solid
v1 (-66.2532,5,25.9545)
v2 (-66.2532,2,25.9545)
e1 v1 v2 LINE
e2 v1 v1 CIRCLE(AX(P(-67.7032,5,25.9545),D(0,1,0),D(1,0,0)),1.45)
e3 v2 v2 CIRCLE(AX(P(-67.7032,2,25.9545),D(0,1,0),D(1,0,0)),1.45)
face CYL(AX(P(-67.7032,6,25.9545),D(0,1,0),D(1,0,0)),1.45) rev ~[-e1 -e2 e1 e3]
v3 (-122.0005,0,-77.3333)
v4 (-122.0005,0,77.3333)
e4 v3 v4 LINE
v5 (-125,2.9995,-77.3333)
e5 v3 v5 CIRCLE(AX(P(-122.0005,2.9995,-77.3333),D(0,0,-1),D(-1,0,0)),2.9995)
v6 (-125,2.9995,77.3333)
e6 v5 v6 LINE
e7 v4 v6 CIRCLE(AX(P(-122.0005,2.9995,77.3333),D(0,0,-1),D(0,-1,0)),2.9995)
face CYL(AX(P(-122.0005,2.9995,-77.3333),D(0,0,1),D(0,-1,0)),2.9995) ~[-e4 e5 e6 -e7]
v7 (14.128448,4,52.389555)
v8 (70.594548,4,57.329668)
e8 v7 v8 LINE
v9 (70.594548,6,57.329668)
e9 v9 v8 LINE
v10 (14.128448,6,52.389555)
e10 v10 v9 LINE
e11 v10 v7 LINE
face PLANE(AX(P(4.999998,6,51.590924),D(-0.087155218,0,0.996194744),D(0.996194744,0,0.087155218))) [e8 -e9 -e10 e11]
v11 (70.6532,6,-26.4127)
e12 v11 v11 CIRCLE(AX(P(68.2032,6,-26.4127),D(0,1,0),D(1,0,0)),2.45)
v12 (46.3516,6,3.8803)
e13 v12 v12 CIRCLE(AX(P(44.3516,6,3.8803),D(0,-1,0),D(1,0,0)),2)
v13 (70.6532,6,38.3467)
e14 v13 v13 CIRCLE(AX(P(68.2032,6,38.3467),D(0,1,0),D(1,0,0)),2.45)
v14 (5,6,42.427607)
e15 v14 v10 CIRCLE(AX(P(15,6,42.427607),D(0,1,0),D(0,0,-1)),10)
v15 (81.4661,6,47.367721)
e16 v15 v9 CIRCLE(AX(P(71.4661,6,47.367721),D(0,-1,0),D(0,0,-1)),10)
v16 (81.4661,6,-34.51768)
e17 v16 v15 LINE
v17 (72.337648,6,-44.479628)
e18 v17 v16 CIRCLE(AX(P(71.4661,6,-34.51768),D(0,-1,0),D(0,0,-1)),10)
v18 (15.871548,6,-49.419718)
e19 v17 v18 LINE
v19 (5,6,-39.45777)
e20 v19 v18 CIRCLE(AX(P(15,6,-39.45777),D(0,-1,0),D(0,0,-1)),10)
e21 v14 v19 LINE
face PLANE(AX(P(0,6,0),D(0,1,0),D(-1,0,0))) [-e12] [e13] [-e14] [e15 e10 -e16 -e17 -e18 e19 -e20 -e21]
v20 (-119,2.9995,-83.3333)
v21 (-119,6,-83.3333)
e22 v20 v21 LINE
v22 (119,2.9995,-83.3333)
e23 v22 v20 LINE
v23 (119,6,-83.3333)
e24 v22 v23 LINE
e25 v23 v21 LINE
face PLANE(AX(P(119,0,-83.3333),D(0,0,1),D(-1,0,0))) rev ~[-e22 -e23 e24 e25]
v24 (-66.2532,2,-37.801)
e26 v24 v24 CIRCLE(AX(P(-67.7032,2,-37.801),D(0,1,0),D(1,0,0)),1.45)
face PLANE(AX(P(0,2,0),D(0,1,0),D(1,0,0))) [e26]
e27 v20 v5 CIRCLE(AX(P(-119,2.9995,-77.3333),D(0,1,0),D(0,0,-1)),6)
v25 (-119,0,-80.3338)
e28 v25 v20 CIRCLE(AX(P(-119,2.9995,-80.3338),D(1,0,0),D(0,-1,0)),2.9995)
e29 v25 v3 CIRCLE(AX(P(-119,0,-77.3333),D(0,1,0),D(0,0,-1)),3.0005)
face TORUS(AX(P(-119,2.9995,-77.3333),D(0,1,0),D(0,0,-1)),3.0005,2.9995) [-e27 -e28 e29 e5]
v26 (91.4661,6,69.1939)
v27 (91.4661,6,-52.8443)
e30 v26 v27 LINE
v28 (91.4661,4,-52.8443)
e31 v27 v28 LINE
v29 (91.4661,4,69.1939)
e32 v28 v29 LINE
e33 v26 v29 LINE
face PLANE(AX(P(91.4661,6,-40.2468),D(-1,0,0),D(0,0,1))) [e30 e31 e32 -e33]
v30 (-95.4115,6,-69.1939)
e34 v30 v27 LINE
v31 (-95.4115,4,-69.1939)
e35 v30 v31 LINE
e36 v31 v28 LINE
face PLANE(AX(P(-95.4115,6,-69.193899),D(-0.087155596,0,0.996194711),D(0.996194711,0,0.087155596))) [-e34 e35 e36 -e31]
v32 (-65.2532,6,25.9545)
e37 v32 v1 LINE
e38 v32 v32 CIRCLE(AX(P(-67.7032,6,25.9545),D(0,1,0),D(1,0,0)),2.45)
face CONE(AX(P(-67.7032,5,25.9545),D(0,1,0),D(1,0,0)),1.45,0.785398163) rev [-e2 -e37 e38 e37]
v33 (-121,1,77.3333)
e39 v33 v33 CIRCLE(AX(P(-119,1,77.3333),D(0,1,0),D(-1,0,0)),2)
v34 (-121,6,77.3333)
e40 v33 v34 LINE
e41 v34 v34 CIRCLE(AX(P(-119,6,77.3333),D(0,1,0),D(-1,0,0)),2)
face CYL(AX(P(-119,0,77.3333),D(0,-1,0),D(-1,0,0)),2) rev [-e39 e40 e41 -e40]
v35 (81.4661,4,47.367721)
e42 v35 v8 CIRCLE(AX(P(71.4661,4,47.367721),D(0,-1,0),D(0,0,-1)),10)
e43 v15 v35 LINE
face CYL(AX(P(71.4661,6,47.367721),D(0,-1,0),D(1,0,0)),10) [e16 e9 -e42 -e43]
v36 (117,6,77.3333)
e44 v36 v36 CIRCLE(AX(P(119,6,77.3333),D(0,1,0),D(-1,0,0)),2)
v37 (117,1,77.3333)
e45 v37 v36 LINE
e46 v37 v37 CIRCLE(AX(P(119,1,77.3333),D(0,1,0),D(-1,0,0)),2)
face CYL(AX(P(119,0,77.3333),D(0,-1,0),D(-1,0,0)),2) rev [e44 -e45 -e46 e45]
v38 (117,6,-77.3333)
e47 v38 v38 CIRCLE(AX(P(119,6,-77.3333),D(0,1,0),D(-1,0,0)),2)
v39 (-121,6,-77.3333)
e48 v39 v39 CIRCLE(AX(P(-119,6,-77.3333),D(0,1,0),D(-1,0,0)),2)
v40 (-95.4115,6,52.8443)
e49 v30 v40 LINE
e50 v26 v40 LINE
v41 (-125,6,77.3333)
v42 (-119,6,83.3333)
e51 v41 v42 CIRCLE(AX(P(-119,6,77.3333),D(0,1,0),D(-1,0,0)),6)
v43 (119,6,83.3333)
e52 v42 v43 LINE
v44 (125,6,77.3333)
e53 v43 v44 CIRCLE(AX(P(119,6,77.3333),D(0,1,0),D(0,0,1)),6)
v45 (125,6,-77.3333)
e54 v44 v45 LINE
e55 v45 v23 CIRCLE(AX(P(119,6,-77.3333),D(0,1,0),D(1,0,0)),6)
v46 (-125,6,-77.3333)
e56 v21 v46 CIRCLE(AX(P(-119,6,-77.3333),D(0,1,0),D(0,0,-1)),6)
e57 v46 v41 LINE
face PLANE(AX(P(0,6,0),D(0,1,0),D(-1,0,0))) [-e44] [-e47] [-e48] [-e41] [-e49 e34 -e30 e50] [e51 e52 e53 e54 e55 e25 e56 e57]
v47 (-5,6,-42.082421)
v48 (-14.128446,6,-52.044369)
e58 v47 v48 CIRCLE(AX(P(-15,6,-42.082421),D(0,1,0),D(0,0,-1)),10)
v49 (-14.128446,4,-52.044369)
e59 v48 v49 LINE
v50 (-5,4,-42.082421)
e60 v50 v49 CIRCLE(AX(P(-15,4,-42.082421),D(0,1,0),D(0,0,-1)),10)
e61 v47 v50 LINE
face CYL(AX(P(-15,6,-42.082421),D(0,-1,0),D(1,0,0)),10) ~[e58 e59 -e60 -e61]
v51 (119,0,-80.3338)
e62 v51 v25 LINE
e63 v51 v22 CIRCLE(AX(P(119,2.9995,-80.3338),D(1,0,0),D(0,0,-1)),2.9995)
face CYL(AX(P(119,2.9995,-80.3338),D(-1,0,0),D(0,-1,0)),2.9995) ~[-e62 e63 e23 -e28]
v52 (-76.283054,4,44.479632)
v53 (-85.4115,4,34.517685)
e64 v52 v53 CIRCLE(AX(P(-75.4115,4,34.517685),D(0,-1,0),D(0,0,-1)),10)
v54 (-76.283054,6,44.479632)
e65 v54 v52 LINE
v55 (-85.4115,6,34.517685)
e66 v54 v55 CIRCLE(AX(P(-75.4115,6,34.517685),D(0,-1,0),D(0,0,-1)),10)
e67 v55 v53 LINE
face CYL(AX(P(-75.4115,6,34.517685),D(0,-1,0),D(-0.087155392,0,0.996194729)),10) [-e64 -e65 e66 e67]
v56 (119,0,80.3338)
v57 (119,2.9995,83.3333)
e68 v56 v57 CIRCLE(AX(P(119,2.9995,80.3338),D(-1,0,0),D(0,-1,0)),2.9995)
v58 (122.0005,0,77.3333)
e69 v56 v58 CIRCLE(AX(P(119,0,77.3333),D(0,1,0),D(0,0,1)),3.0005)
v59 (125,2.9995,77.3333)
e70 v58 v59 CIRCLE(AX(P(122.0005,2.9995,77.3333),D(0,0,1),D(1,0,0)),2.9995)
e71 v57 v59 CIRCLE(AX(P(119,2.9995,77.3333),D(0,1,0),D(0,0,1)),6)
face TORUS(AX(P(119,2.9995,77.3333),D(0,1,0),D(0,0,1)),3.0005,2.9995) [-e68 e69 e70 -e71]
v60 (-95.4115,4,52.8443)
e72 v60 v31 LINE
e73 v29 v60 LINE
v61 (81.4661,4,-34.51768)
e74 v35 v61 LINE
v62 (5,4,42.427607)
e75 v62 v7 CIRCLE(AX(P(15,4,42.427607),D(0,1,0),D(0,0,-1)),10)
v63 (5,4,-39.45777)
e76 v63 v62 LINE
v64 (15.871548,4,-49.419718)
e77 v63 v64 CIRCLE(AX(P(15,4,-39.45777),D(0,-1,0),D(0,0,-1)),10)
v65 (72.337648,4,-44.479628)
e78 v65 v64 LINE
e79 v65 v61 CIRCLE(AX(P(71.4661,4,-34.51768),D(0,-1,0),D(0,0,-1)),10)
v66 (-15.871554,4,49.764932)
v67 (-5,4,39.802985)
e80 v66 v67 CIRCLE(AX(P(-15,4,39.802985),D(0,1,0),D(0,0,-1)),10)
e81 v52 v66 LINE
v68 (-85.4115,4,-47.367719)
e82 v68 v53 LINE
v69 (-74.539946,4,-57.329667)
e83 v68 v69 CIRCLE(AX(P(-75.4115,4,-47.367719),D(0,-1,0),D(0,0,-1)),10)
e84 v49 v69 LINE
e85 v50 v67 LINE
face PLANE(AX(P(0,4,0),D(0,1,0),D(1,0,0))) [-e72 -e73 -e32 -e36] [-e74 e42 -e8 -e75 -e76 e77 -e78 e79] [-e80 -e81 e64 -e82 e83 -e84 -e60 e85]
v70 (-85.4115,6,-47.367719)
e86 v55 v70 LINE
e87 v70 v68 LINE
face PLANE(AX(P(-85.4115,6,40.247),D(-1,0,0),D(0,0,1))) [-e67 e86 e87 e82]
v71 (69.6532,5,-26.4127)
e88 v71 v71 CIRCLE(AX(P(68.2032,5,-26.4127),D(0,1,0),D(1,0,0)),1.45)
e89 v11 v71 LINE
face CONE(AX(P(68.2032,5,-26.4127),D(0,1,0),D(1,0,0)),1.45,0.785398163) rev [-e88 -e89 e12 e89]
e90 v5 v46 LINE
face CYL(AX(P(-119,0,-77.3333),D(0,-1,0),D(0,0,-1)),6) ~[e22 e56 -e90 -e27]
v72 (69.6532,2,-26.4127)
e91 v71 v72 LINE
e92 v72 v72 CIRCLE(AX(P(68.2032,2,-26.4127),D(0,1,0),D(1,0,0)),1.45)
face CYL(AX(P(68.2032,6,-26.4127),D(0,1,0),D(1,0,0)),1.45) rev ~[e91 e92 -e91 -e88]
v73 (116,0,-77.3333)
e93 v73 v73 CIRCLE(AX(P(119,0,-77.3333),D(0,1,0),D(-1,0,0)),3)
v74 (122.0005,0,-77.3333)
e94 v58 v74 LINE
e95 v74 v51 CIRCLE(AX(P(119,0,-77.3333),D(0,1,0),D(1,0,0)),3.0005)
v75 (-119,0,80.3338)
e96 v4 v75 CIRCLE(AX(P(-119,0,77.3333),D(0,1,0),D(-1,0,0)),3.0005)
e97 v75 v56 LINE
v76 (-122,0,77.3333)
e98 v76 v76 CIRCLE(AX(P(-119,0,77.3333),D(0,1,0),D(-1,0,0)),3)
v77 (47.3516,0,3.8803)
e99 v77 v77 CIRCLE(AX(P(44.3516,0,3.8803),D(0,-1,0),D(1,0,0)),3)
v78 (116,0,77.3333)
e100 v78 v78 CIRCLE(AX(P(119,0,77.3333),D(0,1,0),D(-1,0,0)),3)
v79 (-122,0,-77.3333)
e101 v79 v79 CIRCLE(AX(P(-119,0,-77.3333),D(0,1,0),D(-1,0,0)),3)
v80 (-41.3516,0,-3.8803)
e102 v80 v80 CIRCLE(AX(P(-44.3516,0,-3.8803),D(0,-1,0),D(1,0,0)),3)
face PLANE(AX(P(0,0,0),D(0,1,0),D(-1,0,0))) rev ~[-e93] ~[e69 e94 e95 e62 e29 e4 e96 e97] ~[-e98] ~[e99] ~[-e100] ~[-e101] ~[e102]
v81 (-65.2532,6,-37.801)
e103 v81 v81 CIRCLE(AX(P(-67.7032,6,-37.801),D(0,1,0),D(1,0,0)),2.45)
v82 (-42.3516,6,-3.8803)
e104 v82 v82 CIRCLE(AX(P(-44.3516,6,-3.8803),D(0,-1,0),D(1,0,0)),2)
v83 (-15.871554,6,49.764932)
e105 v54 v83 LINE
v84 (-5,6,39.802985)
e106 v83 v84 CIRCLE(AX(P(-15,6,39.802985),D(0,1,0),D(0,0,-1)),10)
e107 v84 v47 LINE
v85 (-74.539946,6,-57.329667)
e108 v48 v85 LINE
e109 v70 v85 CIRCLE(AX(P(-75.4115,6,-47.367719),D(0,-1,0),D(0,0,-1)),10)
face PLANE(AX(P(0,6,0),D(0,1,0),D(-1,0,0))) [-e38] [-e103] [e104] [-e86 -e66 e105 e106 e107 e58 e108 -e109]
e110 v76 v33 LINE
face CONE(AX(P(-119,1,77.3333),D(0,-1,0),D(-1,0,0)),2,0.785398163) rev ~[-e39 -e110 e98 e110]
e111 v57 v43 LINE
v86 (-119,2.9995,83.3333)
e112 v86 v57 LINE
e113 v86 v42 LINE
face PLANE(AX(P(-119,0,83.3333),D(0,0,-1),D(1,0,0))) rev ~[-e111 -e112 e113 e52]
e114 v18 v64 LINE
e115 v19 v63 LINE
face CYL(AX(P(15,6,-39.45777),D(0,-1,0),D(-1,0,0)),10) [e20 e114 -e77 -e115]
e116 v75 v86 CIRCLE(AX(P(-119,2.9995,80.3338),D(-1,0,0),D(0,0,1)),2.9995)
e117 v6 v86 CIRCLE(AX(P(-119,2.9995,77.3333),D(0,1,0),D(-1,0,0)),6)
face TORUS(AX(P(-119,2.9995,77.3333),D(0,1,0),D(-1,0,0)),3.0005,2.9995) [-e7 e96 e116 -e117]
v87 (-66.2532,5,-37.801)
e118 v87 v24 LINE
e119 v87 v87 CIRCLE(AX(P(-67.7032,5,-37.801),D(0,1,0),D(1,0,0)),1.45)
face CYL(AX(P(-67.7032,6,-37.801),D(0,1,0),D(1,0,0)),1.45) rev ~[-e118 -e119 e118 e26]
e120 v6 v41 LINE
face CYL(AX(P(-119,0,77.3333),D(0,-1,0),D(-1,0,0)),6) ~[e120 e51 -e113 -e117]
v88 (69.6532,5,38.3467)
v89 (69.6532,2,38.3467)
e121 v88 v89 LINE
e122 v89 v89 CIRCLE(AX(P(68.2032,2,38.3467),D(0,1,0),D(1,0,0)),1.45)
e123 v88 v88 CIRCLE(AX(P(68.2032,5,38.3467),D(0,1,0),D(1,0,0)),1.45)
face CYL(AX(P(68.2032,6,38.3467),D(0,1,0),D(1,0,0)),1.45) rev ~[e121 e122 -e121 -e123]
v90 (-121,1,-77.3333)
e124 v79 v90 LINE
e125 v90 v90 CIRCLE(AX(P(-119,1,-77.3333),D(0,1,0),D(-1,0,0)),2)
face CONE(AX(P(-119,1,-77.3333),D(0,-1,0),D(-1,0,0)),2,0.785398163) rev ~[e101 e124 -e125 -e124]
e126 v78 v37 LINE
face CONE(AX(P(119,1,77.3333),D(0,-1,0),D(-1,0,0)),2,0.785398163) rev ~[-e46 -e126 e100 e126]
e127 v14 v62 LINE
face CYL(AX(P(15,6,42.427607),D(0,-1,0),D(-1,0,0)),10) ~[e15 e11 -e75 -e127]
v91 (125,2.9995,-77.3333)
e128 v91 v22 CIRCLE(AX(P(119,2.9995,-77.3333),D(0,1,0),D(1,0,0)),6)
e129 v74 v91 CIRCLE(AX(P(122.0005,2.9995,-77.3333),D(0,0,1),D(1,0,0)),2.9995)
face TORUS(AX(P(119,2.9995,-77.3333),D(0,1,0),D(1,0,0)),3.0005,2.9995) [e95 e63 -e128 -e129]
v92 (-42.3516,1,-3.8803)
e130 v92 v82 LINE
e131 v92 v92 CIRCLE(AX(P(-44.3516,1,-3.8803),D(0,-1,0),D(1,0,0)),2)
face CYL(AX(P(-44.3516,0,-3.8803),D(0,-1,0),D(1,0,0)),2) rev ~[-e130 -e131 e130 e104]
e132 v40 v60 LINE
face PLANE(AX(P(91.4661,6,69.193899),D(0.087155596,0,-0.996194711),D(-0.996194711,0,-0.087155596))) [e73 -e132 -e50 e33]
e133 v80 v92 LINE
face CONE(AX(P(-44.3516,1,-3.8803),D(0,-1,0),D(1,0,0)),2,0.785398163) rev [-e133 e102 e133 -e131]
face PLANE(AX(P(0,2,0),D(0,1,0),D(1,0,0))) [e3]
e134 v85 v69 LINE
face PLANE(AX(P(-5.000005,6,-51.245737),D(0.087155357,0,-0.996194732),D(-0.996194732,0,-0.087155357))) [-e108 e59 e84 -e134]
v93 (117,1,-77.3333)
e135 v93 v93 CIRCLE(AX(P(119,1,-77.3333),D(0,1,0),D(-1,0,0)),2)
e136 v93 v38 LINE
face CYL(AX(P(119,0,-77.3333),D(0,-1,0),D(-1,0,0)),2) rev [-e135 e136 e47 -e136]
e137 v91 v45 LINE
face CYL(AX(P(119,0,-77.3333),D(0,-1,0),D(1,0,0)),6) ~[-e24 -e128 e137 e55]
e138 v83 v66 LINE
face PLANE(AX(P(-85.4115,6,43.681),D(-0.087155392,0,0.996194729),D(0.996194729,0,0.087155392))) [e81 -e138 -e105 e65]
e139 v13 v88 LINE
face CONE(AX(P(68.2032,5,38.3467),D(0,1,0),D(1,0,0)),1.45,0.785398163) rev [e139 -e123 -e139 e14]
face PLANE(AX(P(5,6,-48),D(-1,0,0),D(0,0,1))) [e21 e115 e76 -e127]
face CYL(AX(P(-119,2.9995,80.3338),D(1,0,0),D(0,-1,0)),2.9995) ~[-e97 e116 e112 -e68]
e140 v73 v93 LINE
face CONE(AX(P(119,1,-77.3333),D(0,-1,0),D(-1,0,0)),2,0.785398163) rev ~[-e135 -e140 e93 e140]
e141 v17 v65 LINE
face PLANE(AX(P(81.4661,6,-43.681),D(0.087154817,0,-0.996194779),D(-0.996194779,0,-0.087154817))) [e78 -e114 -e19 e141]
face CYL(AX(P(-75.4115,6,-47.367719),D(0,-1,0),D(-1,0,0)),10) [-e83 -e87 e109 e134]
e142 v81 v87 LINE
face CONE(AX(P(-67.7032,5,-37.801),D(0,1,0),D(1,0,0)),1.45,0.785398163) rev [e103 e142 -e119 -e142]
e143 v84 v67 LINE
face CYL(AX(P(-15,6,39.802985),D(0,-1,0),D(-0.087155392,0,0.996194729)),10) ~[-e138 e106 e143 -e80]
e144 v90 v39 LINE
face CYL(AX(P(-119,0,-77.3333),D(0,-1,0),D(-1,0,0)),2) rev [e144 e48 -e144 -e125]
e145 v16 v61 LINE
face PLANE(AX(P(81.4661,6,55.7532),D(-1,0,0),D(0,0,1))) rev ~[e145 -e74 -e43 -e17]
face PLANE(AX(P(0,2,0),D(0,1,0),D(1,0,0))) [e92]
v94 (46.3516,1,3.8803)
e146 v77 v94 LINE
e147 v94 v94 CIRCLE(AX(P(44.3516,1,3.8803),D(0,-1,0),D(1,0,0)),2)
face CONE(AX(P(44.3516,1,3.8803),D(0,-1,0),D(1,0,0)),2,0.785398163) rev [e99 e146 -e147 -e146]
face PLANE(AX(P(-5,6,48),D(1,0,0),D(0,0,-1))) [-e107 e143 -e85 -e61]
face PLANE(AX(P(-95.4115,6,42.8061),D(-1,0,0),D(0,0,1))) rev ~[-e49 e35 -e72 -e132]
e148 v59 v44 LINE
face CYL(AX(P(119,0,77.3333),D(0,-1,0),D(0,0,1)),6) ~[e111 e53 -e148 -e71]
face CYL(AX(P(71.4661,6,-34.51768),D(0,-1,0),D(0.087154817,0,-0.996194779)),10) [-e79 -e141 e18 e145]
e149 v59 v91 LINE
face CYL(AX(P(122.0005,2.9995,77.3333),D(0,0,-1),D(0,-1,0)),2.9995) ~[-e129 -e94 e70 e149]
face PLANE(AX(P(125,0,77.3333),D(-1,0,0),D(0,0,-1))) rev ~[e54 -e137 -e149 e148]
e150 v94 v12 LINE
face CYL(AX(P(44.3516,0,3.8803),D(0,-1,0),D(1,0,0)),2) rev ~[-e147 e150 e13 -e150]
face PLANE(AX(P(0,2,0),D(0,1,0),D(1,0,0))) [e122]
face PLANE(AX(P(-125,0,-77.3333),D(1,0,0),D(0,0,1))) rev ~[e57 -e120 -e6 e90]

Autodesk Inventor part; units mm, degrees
ref_plane "YZ Plane" through (0, 0, 0) normal (1, 0, 0) x (0, 1, 0)
ref_plane "XZ Plane" through (0, 0, 0) normal (0, 1, 0) x (-1, 0, 0)
ref_plane "XY Plane" through (0, 0, 0) normal (0, 0, 1) x (1, 0, 0)
sketch "Sketch1" plane through (0, 0, 0) normal (0, 1, 0) x (-1, 0, 0)
  circle A0 centre (119, 77.3333) radius 2
  circle A1 centre (-119, -77.3333) radius 2
  arc A2 (119, -83.3333) -> (125, -77.3333) centre (119, -77.3333) ccw
  line L0 (125, -77.3333) -> (125, 77.3333)
  arc A3 (125, 77.3333) -> (119, 83.3333) centre (119, 77.3333) ccw
  line L1 (119, 83.3333) -> (-119, 83.3333)
  arc A4 (-119, 83.3333) -> (-125, 77.3333) centre (-119, 77.3333) ccw
  line L2 (-125, 77.3333) -> (-125, -77.3333)
  arc A5 (-125, -77.3333) -> (-119, -83.3333) centre (-119, -77.3333) ccw
  line L3 (-119, -83.3333) -> (119, -83.3333)
  line L4 (119, 71.3333) -> (119, -71.3333)
  arc A6 (119, -71.3333) -> (113, -77.3333) centre (119, -77.3333) ccw
  line L5 (113, -77.3333) -> (-113, -77.3333)
  arc A7 (-113, -77.3333) -> (-119, -71.3333) centre (-119, -77.3333) ccw
  line L6 (-119, -71.3333) -> (-119, 71.3333)
  arc A8 (-119, 71.3333) -> (-113, 77.3333) centre (-119, 77.3333) ccw
  line L7 (-113, 77.3333) -> (113, 77.3333)
  arc A9 (113, 77.3333) -> (119, 71.3333) centre (119, 77.3333) ccw
  circle A10 centre (-119, 77.3333) radius 2
  circle A11 centre (119, -77.3333) radius 2
  point P0 (0, 0)
  point P1 (0, 0)
  dimension "d20" = 4
  dimension "d21" = 4
  dimension "d22" = 4
  dimension "d23" = 4
extrude "Extrusion1" add sketch "Sketch1" along normal blind 6 contours L3 A5 L2 A4 L1 A3 L0 A2 | L4 A6 L5 A7 L6 A8 L7 A9
sketch "Sketch4" plane through (0, 6, 0) normal (0, 1, 0) x (1, 0, 0)
  line L0 (-102.1195, -45.2048) -> (-102.1195, -30.4721) construction
  line L1 (-75.2032, -31.8232) -> (-102.1195, -29.4683) construction
  line L2 (-0.5, -66.4658) -> (-89.7961, -58.6534) construction
  line L3 (-73.7032, -31.4525) -> (-15, -36.5884) construction
  line L4 (-102.1195, -30.4721) -> (-15.8441, -38.0202) construction
  line L5 (-73.7032, 44.3489) -> (-73.7032, -31.4525) construction
  line L6 (-102.1195, -29.4683) -> (-102.1195, 47.3369) construction
  line L7 (-103.1195, 60.7112) -> (-103.1195, -45.2048) construction
  line L8 (-13.5, -39.8412) -> (-13.5, 41.8938) construction
  line L9 (-15, -36.5884) -> (-15, 39.213) construction
  line L10 (-16.1525, 40.8196) -> (-102.1195, 48.3407) construction
  line L11 (-15, 39.213) -> (-73.7032, 44.3489) construction
  line L12 (-13.5, 41.8938) -> (0.1542, 54.4056) construction
  line L13 (-0.5, 55.1624) -> (-16.1525, 40.8196) construction
  line L14 (-87.4429, 74.1598) -> (-0.5, 66.5533) construction
  line L15 (-0.5, 66.5533) -> (-0.5, 55.1624) construction
  line L16 (0.5, 54.7653) -> (0.5, 66.4658) construction
  line L17 (0.1542, 54.4056) -> (13.5, 39.8412) construction
  line L18 (15.8441, 38.0202) -> (0.5, 54.7653) construction
  line L19 (-75.2032, 44.982) -> (-75.2032, -31.8232) construction
  line L20 (0.5, -55.1624) -> (16.1525, -40.8196) construction
  line L21 (0.5, -66.5533) -> (0.5, -55.1624) construction
  line L22 (-0.5, -54.7653) -> (-0.5, -66.4658) construction
  line L23 (13.5, -41.8938) -> (-0.1542, -54.4056) construction
  line L24 (-0.1542, -54.4056) -> (-13.5, -39.8412) construction
  line L25 (-15.8441, -38.0202) -> (-0.5, -54.7653) construction
  line L26 (-89.8832, -59.6496) -> (87.3557, -75.156) construction
  line L27 (89.8832, 59.6496) -> (-87.3557, 75.156) construction
  line L28 (102.1195, 45.2048) -> (102.1195, 30.4721) construction
  arc A0 (102.1195, 45.2048) -> (89.7961, 58.6534) centre (88.6195, 45.2048) ccw construction
  arc A1 (103.1195, 45.2048) -> (89.8832, 59.6496) centre (88.6195, 45.2048) ccw construction
  line L29 (75.2032, 31.8232) -> (102.1195, 29.4683) construction
  line L30 (14.5, -39.6712) -> (14.5, 37.134) construction
  line L31 (13.5, 39.8412) -> (13.5, -41.8938) construction
  line L32 (14.5, 37.134) -> (74.2032, 31.9107) construction
  line L33 (74.2032, -44.8945) -> (14.5, -39.6712) construction
  line L34 (75.2032, -44.982) -> (75.2032, 31.8232) construction
  line L35 (0.5, 66.4658) -> (89.7961, 58.6534) construction
  line L36 (87.4429, -74.1598) -> (0.5, -66.5533) construction
  line L37 (102.1195, 30.4721) -> (15.8441, 38.0202) construction
  line L38 (16.1525, -40.8196) -> (102.1195, -48.3407) construction
  line L39 (103.1195, -60.7112) -> (103.1195, 45.2048) construction
  line L40 (102.1195, -47.3369) -> (75.2032, -44.982) construction
  line L41 (102.1195, -48.3407) -> (102.1195, -60.7112) construction
  arc A2 (87.4429, -74.1598) -> (102.1195, -60.7112) centre (88.6195, -60.7112) ccw construction
  arc A3 (87.3557, -75.156) -> (103.1195, -60.7112) centre (88.6195, -60.7112) ccw construction
  line L42 (102.1195, 29.4683) -> (102.1195, -47.3369) construction
  line L43 (74.2032, 31.9107) -> (74.2032, -44.8945) construction
  arc A4 (-102.1195, -45.2048) -> (-89.7961, -58.6534) centre (-88.6195, -45.2048) ccw construction
  arc A5 (-103.1195, -45.2048) -> (-89.8832, -59.6496) centre (-88.6195, -45.2048) ccw construction
  arc A6 (-87.3557, 75.156) -> (-103.1195, 60.7112) centre (-88.6195, 60.7112) ccw construction
  arc A7 (-87.4429, 74.1598) -> (-102.1195, 60.7112) centre (-88.6195, 60.7112) ccw construction
  line L44 (-102.1195, 48.3407) -> (-102.1195, 60.7112) construction
  line L45 (-102.1195, 47.3369) -> (-75.2032, 44.982) construction
  line L46 (5, -48) -> (-5, -48)
  line L47 (-5, -48) -> (-5, 48)
  line L48 (-5, 48) -> (5, 48)
  line L49 (5, 48) -> (5, -48)
  line L50 (5, -48) -> (-5, 48) construction
  line L51 (-5, -48) -> (5, 48) construction
  line L52 (-90.4115, -45.6034) -> (-90.4115, 61.1094) construction
  line L53 (-90.4115, 63.7374) -> (86.4661, 48.2626) construction
  line L54 (86.4661, 45.2048) -> (86.4661, -60.7112) construction
  line L55 (86.4661, -63.7374) -> (-90.4115, -48.2626) construction
  line L56 (91.4661, -55.7532) -> (86.4661, -55.7532)
  line L57 (81.4661, -55.7532) -> (81.4661, 40.2468)
  line L58 (86.4661, 40.2468) -> (91.4661, 40.2468)
  line L59 (91.4661, 40.2468) -> (91.4661, -55.7532)
  line L60 (91.4661, -55.7532) -> (81.4661, 40.2468) construction
  line L61 (81.4661, -55.7532) -> (91.4661, 40.2468) construction
  line L62 (-90.4115, -40.247) -> (-95.4115, -40.247)
  line L63 (-95.4115, -40.247) -> (-95.4115, 55.753)
  line L64 (-95.4115, 55.753) -> (-90.4115, 55.753)
  line L65 (-85.4115, 55.753) -> (-85.4115, -40.247)
  line L66 (-85.4115, -40.247) -> (-95.4115, 55.753) construction
  line L67 (-95.4115, -40.247) -> (-85.4115, 55.753) construction
  line L68 (95.2186, -69.5222) -> (-100.0356, -52.4397)
  line L69 (-100.0356, -52.4397) -> (-99.164, -42.4778)
  line L70 (96.0902, -59.5603) -> (95.2186, -69.5222)
  line L71 (95.2186, -69.5222) -> (-99.164, -42.4778) construction
  line L72 (-100.0356, -52.4397) -> (96.0902, -59.5603) construction
  line L73 (-100.0356, 59.5603) -> (-99.164, 69.5222)
  line L74 (-99.164, 69.5222) -> (96.0902, 52.4397)
  line L75 (96.0902, 52.4397) -> (95.2186, 42.4778)
  line L76 (95.2186, 42.4778) -> (-99.164, 69.5222) construction
  line L77 (-100.0356, 59.5603) -> (96.0902, 52.4397) construction
  line L78 (81.4661, 40.2468) -> (81.4661, 43.681)
  line L79 (91.4661, -55.7532) -> (91.4661, -59.1557)
  line L80 (5, -48) -> (5, -51.5909)
  line L81 (-5, 48) -> (-5, 51.2458)
  line L82 (-95.4115, 55.753) -> (-95.4115, 59.1557)
  line L83 (-85.4115, -40.247) -> (-85.4115, -43.681)
  line L84 (5, 48) -> (5, 50.3709)
  line L85 (-5, -48) -> (-5, -50.716)
  line L86 (-95.4115, -40.247) -> (-95.4115, -42.8061)
  line L87 (-85.4115, 55.753) -> (-85.4115, 58.2808)
  line L88 (91.4661, 40.2468) -> (91.4661, 42.8061)
  line L89 (81.4661, -55.7532) -> (81.4661, -58.2808)
  line L90 (-90.4115, 58.7183) -> (-100.0356, 59.5603)
  line L91 (-99.164, -42.4778) -> (-90.4115, -43.2435)
  line L92 (86.4661, -58.7183) -> (96.0902, -59.5603)
  line L93 (95.2186, 42.4778) -> (86.4661, 43.2435)
  line L94 (81.4661, 43.681) -> (3.7512, 50.4801)
  line L95 (-3.4428, 51.1095) -> (-85.4115, 58.2808)
  line L96 (-85.4115, -43.681) -> (-3.4074, -50.8554)
  line L97 (3.0989, -51.4246) -> (81.4661, -58.2808)
  line L98 (-95.4115, -42.8061) -> (-95.4115, -52.8443)
  line L99 (-95.4115, 59.1557) -> (-95.4115, 69.1939)
  line L100 (91.4661, 42.8061) -> (91.4661, 52.8443)
  line L101 (91.4661, -59.1557) -> (91.4661, -69.1939)
  point P0 (0, 0)
  point P1 (0, 0)
  point P2 (86.4661, -7.7532)
  point P3 (-90.4115, 7.753)
  point P4 (-1.9727, -56)
  point P5 (-1.9727, 56)
  point P6 (-1.9727, 56)
  dimension "d2" = 10
  dimension "d3" = 96
  dimension "d4" = 10
  dimension "d5" = 96
  dimension "d6" = 10
  dimension "d7" = 96
  dimension "d8" = 10
  dimension "d11" = 196
  dimension "d12" = 10
  dimension "d13" = 196
  dimension "d48" = 56
  dimension "d49" = 56
extrude "Extrusion2" cut sketch "Sketch4" against normal blind 2 contours L46 L47 L48 L49 | L59 L79 L101 L68 L98 L86 L63 L82 L99 L74 L100 L88
sketch "Sketch5" plane through (0, 0, 0) normal (0, -1, 0) x (1, 0, 0)
  circle A0 centre (119, 77.3333) radius 2.45
  circle A1 centre (-119, -77.3333) radius 2.45
  arc A2 (119, -83.3333) -> (125, -77.3333) centre (119, -77.3333) ccw
  line L0 (125, -77.3333) -> (125, 77.3333)
  arc A3 (125, 77.3333) -> (119, 83.3333) centre (119, 77.3333) ccw
  line L1 (119, 83.3333) -> (-119, 83.3333)
  arc A4 (-119, 83.3333) -> (-125, 77.3333) centre (-119, 77.3333) ccw
  line L2 (-125, 77.3333) -> (-125, -77.3333)
  arc A5 (-125, -77.3333) -> (-119, -83.3333) centre (-119, -77.3333) ccw
  line L3 (-119, -83.3333) -> (119, -83.3333)
  line L4 (119, 71.3333) -> (119, -71.3333)
  arc A6 (119, -71.3333) -> (113, -77.3333) centre (119, -77.3333) ccw
  line L5 (113, -77.3333) -> (-113, -77.3333)
  arc A7 (-113, -77.3333) -> (-119, -71.3333) centre (-119, -77.3333) ccw
  line L6 (-119, -71.3333) -> (-119, 71.3333)
  arc A8 (-119, 71.3333) -> (-113, 77.3333) centre (-119, 77.3333) ccw
  line L7 (-113, 77.3333) -> (113, 77.3333)
  arc A9 (113, 77.3333) -> (119, 71.3333) centre (119, 77.3333) ccw
  circle A10 centre (-119, 77.3333) radius 2.45
  circle A11 centre (119, -77.3333) radius 2.45
  circle A12 centre (-44.3516, -3.8803) radius 6
  circle A13 centre (44.3516, 3.8803) radius 6
  circle A14 centre (-44.3516, -3.8803) radius 2
  circle A15 centre (44.3516, 3.8803) radius 2
  point P0 (0, 0)
  point P1 (0, 0)
  dimension "d16" = 4
  dimension "d17" = 4
extrude "Extrusion3" cut sketch "Sketch5" against normal through all contours A14 | A15
chamfer "Chamfer1" distance 1 angle 45 6 edges at (-117, 0, -77.3333) (-46.3516, 0, -3.8803) (-117, 0, 77.3333) (42.3516, 0, 3.8803) (121, 0, 77.3333) (121, 0, -77.3333)
fillet "Fillet1" radius 3 8 edges at (123.2426, 0, -81.576) (0, 0, -83.3333) (-123.2426, 0, -81.576) (-125, 0, 0) (-123.2426, 0, 81.576) (0, 0, 83.3333) (123.2426, 0, 81.576) (125, 0, 0)
sketch "Sketch6" plane through (0, 6, 0) normal (0, 1, 0) x (1, 0, 0)
  arc A0 (-87.3557, 75.156) -> (-103.1195, 60.7112) centre (-88.6195, 60.7112) ccw construction
  arc A1 (-87.4429, 74.1598) -> (-102.1195, 60.7112) centre (-88.6195, 60.7112) ccw construction
  line L0 (-102.1195, 48.3407) -> (-102.1195, 60.7112) construction
  line L1 (-16.1525, 40.8196) -> (-102.1195, 48.3407) construction
  line L2 (-15, 39.213) -> (-73.7032, 44.3489) construction
  line L3 (-87.4429, 74.1598) -> (-0.5, 66.5533) construction
  line L4 (89.8832, 59.6496) -> (-87.3557, 75.156) construction
  line L5 (-0.5, 55.1624) -> (-16.1525, 40.8196) construction
  line L6 (-0.5, 66.5533) -> (-0.5, 55.1624) construction
  line L7 (0.5, 54.7653) -> (0.5, 66.4658) construction
  line L8 (0.1542, 54.4056) -> (13.5, 39.8412) construction
  line L9 (15.8441, 38.0202) -> (0.5, 54.7653) construction
  line L10 (-13.5, 41.8938) -> (0.1542, 54.4056) construction
  line L11 (-0.5, -66.4658) -> (-89.7961, -58.6534) construction
  line L12 (-15.8441, -38.0202) -> (-0.5, -54.7653) construction
  line L13 (-0.1542, -54.4056) -> (-13.5, -39.8412) construction
  line L14 (13.5, -41.8938) -> (-0.1542, -54.4056) construction
  arc A2 (-102.1195, -45.2048) -> (-89.7961, -58.6534) centre (-88.6195, -45.2048) ccw construction
  arc A3 (-103.1195, -45.2048) -> (-89.8832, -59.6496) centre (-88.6195, -45.2048) ccw construction
  line L15 (-0.5, -54.7653) -> (-0.5, -66.4658) construction
  line L16 (0.5, -66.5533) -> (0.5, -55.1624) construction
  line L17 (-89.8832, -59.6496) -> (87.3557, -75.156) construction
  line L18 (0.5, -55.1624) -> (16.1525, -40.8196) construction
  line L19 (14.5, -39.6712) -> (14.5, 37.134) construction
  line L20 (13.5, 39.8412) -> (13.5, -41.8938) construction
  line L21 (74.2032, 31.9107) -> (74.2032, -44.8945) construction
  line L22 (75.2032, -44.982) -> (75.2032, 31.8232) construction
  line L23 (103.1195, -60.7112) -> (103.1195, 45.2048) construction
  line L24 (102.1195, 29.4683) -> (102.1195, -47.3369) construction
  line L25 (102.1195, -47.3369) -> (75.2032, -44.982) construction
  line L26 (74.2032, -44.8945) -> (14.5, -39.6712) construction
  line L27 (16.1525, -40.8196) -> (102.1195, -48.3407) construction
  line L28 (87.4429, -74.1598) -> (0.5, -66.5533) construction
  line L29 (102.1195, -48.3407) -> (102.1195, -60.7112) construction
  line L30 (14.5, 37.134) -> (74.2032, 31.9107) construction
  line L31 (102.1195, 30.4721) -> (15.8441, 38.0202) construction
  line L32 (0.5, 66.4658) -> (89.7961, 58.6534) construction
  line L33 (75.2032, 31.8232) -> (102.1195, 29.4683) construction
  line L34 (102.1195, 45.2048) -> (102.1195, 30.4721) construction
  arc A4 (102.1195, 45.2048) -> (89.7961, 58.6534) centre (88.6195, 45.2048) ccw construction
  arc A5 (103.1195, 45.2048) -> (89.8832, 59.6496) centre (88.6195, 45.2048) ccw construction
  line L35 (-102.1195, -45.2048) -> (-102.1195, -30.4721) construction
  line L36 (-75.2032, -31.8232) -> (-102.1195, -29.4683) construction
  line L37 (-73.7032, -31.4525) -> (-15, -36.5884) construction
  line L38 (-102.1195, -30.4721) -> (-15.8441, -38.0202) construction
  line L39 (-15, -36.5884) -> (-15, 39.213) construction
  line L40 (-13.5, -39.8412) -> (-13.5, 41.8938) construction
  line L41 (-102.1195, 47.3369) -> (-75.2032, 44.982) construction
  line L42 (-75.2032, 44.982) -> (-75.2032, -31.8232) construction
  line L43 (-103.1195, 60.7112) -> (-103.1195, -45.2048) construction
  line L44 (-102.1195, -29.4683) -> (-102.1195, 47.3369) construction
  line L45 (-73.7032, 44.3489) -> (-73.7032, -31.4525) construction
  arc A6 (87.4429, -74.1598) -> (102.1195, -60.7112) centre (88.6195, -60.7112) ccw construction
  arc A7 (87.3557, -75.156) -> (103.1195, -60.7112) centre (88.6195, -60.7112) ccw construction
  circle A8 centre (-67.7032, -25.9545) radius 6
  circle A9 centre (-67.7032, 37.801) radius 6
  circle A10 centre (68.2032, -38.3467) radius 6
  circle A11 centre (68.2032, 26.4127) radius 6
  circle A12 centre (-67.7032, -25.9545) radius 1.45
  circle A13 centre (-67.7032, 37.801) radius 1.45
  circle A14 centre (68.2032, 26.4127) radius 1.45
  circle A15 centre (68.2032, -38.3467) radius 1.45
  point P0 (0, 0)
  point P1 (0, 0)
  point P2 (0, 0)
  point P3 (88.6195, -7.7532)
  point P4 (-88.6195, 7.7532)
  dimension "d38" = 12
  dimension "d39" = 12
  dimension "d40" = 12
  dimension "d41" = 12
  dimension "d42" = 2.9
extrude "Extrusion4" cut sketch "Sketch6" against normal blind 4 contours A12 | A13 | A14 | A15
chamfer "Chamfer2" distance 1 angle 45 4 edges at (-69.1532, 6, -37.801) (-69.1532, 6, 25.9545) (66.7532, 6, 38.3467) (66.7532, 6, -26.4127)
fillet "Fillet2" radius 10 8 edges at (-5, 5, 50.716) (-5, 5, -51.2458) (5, 5, -50.3709) (81.4661, 5, -43.681) (81.4661, 5, 58.2808) (5, 5, 51.5909) (-85.4115, 5, 43.681) (-85.4115, 5, -58.2808)
equation "\"d13\" = d11"
equation "\"d17\" = d16"
properties part number "BackPlate"
